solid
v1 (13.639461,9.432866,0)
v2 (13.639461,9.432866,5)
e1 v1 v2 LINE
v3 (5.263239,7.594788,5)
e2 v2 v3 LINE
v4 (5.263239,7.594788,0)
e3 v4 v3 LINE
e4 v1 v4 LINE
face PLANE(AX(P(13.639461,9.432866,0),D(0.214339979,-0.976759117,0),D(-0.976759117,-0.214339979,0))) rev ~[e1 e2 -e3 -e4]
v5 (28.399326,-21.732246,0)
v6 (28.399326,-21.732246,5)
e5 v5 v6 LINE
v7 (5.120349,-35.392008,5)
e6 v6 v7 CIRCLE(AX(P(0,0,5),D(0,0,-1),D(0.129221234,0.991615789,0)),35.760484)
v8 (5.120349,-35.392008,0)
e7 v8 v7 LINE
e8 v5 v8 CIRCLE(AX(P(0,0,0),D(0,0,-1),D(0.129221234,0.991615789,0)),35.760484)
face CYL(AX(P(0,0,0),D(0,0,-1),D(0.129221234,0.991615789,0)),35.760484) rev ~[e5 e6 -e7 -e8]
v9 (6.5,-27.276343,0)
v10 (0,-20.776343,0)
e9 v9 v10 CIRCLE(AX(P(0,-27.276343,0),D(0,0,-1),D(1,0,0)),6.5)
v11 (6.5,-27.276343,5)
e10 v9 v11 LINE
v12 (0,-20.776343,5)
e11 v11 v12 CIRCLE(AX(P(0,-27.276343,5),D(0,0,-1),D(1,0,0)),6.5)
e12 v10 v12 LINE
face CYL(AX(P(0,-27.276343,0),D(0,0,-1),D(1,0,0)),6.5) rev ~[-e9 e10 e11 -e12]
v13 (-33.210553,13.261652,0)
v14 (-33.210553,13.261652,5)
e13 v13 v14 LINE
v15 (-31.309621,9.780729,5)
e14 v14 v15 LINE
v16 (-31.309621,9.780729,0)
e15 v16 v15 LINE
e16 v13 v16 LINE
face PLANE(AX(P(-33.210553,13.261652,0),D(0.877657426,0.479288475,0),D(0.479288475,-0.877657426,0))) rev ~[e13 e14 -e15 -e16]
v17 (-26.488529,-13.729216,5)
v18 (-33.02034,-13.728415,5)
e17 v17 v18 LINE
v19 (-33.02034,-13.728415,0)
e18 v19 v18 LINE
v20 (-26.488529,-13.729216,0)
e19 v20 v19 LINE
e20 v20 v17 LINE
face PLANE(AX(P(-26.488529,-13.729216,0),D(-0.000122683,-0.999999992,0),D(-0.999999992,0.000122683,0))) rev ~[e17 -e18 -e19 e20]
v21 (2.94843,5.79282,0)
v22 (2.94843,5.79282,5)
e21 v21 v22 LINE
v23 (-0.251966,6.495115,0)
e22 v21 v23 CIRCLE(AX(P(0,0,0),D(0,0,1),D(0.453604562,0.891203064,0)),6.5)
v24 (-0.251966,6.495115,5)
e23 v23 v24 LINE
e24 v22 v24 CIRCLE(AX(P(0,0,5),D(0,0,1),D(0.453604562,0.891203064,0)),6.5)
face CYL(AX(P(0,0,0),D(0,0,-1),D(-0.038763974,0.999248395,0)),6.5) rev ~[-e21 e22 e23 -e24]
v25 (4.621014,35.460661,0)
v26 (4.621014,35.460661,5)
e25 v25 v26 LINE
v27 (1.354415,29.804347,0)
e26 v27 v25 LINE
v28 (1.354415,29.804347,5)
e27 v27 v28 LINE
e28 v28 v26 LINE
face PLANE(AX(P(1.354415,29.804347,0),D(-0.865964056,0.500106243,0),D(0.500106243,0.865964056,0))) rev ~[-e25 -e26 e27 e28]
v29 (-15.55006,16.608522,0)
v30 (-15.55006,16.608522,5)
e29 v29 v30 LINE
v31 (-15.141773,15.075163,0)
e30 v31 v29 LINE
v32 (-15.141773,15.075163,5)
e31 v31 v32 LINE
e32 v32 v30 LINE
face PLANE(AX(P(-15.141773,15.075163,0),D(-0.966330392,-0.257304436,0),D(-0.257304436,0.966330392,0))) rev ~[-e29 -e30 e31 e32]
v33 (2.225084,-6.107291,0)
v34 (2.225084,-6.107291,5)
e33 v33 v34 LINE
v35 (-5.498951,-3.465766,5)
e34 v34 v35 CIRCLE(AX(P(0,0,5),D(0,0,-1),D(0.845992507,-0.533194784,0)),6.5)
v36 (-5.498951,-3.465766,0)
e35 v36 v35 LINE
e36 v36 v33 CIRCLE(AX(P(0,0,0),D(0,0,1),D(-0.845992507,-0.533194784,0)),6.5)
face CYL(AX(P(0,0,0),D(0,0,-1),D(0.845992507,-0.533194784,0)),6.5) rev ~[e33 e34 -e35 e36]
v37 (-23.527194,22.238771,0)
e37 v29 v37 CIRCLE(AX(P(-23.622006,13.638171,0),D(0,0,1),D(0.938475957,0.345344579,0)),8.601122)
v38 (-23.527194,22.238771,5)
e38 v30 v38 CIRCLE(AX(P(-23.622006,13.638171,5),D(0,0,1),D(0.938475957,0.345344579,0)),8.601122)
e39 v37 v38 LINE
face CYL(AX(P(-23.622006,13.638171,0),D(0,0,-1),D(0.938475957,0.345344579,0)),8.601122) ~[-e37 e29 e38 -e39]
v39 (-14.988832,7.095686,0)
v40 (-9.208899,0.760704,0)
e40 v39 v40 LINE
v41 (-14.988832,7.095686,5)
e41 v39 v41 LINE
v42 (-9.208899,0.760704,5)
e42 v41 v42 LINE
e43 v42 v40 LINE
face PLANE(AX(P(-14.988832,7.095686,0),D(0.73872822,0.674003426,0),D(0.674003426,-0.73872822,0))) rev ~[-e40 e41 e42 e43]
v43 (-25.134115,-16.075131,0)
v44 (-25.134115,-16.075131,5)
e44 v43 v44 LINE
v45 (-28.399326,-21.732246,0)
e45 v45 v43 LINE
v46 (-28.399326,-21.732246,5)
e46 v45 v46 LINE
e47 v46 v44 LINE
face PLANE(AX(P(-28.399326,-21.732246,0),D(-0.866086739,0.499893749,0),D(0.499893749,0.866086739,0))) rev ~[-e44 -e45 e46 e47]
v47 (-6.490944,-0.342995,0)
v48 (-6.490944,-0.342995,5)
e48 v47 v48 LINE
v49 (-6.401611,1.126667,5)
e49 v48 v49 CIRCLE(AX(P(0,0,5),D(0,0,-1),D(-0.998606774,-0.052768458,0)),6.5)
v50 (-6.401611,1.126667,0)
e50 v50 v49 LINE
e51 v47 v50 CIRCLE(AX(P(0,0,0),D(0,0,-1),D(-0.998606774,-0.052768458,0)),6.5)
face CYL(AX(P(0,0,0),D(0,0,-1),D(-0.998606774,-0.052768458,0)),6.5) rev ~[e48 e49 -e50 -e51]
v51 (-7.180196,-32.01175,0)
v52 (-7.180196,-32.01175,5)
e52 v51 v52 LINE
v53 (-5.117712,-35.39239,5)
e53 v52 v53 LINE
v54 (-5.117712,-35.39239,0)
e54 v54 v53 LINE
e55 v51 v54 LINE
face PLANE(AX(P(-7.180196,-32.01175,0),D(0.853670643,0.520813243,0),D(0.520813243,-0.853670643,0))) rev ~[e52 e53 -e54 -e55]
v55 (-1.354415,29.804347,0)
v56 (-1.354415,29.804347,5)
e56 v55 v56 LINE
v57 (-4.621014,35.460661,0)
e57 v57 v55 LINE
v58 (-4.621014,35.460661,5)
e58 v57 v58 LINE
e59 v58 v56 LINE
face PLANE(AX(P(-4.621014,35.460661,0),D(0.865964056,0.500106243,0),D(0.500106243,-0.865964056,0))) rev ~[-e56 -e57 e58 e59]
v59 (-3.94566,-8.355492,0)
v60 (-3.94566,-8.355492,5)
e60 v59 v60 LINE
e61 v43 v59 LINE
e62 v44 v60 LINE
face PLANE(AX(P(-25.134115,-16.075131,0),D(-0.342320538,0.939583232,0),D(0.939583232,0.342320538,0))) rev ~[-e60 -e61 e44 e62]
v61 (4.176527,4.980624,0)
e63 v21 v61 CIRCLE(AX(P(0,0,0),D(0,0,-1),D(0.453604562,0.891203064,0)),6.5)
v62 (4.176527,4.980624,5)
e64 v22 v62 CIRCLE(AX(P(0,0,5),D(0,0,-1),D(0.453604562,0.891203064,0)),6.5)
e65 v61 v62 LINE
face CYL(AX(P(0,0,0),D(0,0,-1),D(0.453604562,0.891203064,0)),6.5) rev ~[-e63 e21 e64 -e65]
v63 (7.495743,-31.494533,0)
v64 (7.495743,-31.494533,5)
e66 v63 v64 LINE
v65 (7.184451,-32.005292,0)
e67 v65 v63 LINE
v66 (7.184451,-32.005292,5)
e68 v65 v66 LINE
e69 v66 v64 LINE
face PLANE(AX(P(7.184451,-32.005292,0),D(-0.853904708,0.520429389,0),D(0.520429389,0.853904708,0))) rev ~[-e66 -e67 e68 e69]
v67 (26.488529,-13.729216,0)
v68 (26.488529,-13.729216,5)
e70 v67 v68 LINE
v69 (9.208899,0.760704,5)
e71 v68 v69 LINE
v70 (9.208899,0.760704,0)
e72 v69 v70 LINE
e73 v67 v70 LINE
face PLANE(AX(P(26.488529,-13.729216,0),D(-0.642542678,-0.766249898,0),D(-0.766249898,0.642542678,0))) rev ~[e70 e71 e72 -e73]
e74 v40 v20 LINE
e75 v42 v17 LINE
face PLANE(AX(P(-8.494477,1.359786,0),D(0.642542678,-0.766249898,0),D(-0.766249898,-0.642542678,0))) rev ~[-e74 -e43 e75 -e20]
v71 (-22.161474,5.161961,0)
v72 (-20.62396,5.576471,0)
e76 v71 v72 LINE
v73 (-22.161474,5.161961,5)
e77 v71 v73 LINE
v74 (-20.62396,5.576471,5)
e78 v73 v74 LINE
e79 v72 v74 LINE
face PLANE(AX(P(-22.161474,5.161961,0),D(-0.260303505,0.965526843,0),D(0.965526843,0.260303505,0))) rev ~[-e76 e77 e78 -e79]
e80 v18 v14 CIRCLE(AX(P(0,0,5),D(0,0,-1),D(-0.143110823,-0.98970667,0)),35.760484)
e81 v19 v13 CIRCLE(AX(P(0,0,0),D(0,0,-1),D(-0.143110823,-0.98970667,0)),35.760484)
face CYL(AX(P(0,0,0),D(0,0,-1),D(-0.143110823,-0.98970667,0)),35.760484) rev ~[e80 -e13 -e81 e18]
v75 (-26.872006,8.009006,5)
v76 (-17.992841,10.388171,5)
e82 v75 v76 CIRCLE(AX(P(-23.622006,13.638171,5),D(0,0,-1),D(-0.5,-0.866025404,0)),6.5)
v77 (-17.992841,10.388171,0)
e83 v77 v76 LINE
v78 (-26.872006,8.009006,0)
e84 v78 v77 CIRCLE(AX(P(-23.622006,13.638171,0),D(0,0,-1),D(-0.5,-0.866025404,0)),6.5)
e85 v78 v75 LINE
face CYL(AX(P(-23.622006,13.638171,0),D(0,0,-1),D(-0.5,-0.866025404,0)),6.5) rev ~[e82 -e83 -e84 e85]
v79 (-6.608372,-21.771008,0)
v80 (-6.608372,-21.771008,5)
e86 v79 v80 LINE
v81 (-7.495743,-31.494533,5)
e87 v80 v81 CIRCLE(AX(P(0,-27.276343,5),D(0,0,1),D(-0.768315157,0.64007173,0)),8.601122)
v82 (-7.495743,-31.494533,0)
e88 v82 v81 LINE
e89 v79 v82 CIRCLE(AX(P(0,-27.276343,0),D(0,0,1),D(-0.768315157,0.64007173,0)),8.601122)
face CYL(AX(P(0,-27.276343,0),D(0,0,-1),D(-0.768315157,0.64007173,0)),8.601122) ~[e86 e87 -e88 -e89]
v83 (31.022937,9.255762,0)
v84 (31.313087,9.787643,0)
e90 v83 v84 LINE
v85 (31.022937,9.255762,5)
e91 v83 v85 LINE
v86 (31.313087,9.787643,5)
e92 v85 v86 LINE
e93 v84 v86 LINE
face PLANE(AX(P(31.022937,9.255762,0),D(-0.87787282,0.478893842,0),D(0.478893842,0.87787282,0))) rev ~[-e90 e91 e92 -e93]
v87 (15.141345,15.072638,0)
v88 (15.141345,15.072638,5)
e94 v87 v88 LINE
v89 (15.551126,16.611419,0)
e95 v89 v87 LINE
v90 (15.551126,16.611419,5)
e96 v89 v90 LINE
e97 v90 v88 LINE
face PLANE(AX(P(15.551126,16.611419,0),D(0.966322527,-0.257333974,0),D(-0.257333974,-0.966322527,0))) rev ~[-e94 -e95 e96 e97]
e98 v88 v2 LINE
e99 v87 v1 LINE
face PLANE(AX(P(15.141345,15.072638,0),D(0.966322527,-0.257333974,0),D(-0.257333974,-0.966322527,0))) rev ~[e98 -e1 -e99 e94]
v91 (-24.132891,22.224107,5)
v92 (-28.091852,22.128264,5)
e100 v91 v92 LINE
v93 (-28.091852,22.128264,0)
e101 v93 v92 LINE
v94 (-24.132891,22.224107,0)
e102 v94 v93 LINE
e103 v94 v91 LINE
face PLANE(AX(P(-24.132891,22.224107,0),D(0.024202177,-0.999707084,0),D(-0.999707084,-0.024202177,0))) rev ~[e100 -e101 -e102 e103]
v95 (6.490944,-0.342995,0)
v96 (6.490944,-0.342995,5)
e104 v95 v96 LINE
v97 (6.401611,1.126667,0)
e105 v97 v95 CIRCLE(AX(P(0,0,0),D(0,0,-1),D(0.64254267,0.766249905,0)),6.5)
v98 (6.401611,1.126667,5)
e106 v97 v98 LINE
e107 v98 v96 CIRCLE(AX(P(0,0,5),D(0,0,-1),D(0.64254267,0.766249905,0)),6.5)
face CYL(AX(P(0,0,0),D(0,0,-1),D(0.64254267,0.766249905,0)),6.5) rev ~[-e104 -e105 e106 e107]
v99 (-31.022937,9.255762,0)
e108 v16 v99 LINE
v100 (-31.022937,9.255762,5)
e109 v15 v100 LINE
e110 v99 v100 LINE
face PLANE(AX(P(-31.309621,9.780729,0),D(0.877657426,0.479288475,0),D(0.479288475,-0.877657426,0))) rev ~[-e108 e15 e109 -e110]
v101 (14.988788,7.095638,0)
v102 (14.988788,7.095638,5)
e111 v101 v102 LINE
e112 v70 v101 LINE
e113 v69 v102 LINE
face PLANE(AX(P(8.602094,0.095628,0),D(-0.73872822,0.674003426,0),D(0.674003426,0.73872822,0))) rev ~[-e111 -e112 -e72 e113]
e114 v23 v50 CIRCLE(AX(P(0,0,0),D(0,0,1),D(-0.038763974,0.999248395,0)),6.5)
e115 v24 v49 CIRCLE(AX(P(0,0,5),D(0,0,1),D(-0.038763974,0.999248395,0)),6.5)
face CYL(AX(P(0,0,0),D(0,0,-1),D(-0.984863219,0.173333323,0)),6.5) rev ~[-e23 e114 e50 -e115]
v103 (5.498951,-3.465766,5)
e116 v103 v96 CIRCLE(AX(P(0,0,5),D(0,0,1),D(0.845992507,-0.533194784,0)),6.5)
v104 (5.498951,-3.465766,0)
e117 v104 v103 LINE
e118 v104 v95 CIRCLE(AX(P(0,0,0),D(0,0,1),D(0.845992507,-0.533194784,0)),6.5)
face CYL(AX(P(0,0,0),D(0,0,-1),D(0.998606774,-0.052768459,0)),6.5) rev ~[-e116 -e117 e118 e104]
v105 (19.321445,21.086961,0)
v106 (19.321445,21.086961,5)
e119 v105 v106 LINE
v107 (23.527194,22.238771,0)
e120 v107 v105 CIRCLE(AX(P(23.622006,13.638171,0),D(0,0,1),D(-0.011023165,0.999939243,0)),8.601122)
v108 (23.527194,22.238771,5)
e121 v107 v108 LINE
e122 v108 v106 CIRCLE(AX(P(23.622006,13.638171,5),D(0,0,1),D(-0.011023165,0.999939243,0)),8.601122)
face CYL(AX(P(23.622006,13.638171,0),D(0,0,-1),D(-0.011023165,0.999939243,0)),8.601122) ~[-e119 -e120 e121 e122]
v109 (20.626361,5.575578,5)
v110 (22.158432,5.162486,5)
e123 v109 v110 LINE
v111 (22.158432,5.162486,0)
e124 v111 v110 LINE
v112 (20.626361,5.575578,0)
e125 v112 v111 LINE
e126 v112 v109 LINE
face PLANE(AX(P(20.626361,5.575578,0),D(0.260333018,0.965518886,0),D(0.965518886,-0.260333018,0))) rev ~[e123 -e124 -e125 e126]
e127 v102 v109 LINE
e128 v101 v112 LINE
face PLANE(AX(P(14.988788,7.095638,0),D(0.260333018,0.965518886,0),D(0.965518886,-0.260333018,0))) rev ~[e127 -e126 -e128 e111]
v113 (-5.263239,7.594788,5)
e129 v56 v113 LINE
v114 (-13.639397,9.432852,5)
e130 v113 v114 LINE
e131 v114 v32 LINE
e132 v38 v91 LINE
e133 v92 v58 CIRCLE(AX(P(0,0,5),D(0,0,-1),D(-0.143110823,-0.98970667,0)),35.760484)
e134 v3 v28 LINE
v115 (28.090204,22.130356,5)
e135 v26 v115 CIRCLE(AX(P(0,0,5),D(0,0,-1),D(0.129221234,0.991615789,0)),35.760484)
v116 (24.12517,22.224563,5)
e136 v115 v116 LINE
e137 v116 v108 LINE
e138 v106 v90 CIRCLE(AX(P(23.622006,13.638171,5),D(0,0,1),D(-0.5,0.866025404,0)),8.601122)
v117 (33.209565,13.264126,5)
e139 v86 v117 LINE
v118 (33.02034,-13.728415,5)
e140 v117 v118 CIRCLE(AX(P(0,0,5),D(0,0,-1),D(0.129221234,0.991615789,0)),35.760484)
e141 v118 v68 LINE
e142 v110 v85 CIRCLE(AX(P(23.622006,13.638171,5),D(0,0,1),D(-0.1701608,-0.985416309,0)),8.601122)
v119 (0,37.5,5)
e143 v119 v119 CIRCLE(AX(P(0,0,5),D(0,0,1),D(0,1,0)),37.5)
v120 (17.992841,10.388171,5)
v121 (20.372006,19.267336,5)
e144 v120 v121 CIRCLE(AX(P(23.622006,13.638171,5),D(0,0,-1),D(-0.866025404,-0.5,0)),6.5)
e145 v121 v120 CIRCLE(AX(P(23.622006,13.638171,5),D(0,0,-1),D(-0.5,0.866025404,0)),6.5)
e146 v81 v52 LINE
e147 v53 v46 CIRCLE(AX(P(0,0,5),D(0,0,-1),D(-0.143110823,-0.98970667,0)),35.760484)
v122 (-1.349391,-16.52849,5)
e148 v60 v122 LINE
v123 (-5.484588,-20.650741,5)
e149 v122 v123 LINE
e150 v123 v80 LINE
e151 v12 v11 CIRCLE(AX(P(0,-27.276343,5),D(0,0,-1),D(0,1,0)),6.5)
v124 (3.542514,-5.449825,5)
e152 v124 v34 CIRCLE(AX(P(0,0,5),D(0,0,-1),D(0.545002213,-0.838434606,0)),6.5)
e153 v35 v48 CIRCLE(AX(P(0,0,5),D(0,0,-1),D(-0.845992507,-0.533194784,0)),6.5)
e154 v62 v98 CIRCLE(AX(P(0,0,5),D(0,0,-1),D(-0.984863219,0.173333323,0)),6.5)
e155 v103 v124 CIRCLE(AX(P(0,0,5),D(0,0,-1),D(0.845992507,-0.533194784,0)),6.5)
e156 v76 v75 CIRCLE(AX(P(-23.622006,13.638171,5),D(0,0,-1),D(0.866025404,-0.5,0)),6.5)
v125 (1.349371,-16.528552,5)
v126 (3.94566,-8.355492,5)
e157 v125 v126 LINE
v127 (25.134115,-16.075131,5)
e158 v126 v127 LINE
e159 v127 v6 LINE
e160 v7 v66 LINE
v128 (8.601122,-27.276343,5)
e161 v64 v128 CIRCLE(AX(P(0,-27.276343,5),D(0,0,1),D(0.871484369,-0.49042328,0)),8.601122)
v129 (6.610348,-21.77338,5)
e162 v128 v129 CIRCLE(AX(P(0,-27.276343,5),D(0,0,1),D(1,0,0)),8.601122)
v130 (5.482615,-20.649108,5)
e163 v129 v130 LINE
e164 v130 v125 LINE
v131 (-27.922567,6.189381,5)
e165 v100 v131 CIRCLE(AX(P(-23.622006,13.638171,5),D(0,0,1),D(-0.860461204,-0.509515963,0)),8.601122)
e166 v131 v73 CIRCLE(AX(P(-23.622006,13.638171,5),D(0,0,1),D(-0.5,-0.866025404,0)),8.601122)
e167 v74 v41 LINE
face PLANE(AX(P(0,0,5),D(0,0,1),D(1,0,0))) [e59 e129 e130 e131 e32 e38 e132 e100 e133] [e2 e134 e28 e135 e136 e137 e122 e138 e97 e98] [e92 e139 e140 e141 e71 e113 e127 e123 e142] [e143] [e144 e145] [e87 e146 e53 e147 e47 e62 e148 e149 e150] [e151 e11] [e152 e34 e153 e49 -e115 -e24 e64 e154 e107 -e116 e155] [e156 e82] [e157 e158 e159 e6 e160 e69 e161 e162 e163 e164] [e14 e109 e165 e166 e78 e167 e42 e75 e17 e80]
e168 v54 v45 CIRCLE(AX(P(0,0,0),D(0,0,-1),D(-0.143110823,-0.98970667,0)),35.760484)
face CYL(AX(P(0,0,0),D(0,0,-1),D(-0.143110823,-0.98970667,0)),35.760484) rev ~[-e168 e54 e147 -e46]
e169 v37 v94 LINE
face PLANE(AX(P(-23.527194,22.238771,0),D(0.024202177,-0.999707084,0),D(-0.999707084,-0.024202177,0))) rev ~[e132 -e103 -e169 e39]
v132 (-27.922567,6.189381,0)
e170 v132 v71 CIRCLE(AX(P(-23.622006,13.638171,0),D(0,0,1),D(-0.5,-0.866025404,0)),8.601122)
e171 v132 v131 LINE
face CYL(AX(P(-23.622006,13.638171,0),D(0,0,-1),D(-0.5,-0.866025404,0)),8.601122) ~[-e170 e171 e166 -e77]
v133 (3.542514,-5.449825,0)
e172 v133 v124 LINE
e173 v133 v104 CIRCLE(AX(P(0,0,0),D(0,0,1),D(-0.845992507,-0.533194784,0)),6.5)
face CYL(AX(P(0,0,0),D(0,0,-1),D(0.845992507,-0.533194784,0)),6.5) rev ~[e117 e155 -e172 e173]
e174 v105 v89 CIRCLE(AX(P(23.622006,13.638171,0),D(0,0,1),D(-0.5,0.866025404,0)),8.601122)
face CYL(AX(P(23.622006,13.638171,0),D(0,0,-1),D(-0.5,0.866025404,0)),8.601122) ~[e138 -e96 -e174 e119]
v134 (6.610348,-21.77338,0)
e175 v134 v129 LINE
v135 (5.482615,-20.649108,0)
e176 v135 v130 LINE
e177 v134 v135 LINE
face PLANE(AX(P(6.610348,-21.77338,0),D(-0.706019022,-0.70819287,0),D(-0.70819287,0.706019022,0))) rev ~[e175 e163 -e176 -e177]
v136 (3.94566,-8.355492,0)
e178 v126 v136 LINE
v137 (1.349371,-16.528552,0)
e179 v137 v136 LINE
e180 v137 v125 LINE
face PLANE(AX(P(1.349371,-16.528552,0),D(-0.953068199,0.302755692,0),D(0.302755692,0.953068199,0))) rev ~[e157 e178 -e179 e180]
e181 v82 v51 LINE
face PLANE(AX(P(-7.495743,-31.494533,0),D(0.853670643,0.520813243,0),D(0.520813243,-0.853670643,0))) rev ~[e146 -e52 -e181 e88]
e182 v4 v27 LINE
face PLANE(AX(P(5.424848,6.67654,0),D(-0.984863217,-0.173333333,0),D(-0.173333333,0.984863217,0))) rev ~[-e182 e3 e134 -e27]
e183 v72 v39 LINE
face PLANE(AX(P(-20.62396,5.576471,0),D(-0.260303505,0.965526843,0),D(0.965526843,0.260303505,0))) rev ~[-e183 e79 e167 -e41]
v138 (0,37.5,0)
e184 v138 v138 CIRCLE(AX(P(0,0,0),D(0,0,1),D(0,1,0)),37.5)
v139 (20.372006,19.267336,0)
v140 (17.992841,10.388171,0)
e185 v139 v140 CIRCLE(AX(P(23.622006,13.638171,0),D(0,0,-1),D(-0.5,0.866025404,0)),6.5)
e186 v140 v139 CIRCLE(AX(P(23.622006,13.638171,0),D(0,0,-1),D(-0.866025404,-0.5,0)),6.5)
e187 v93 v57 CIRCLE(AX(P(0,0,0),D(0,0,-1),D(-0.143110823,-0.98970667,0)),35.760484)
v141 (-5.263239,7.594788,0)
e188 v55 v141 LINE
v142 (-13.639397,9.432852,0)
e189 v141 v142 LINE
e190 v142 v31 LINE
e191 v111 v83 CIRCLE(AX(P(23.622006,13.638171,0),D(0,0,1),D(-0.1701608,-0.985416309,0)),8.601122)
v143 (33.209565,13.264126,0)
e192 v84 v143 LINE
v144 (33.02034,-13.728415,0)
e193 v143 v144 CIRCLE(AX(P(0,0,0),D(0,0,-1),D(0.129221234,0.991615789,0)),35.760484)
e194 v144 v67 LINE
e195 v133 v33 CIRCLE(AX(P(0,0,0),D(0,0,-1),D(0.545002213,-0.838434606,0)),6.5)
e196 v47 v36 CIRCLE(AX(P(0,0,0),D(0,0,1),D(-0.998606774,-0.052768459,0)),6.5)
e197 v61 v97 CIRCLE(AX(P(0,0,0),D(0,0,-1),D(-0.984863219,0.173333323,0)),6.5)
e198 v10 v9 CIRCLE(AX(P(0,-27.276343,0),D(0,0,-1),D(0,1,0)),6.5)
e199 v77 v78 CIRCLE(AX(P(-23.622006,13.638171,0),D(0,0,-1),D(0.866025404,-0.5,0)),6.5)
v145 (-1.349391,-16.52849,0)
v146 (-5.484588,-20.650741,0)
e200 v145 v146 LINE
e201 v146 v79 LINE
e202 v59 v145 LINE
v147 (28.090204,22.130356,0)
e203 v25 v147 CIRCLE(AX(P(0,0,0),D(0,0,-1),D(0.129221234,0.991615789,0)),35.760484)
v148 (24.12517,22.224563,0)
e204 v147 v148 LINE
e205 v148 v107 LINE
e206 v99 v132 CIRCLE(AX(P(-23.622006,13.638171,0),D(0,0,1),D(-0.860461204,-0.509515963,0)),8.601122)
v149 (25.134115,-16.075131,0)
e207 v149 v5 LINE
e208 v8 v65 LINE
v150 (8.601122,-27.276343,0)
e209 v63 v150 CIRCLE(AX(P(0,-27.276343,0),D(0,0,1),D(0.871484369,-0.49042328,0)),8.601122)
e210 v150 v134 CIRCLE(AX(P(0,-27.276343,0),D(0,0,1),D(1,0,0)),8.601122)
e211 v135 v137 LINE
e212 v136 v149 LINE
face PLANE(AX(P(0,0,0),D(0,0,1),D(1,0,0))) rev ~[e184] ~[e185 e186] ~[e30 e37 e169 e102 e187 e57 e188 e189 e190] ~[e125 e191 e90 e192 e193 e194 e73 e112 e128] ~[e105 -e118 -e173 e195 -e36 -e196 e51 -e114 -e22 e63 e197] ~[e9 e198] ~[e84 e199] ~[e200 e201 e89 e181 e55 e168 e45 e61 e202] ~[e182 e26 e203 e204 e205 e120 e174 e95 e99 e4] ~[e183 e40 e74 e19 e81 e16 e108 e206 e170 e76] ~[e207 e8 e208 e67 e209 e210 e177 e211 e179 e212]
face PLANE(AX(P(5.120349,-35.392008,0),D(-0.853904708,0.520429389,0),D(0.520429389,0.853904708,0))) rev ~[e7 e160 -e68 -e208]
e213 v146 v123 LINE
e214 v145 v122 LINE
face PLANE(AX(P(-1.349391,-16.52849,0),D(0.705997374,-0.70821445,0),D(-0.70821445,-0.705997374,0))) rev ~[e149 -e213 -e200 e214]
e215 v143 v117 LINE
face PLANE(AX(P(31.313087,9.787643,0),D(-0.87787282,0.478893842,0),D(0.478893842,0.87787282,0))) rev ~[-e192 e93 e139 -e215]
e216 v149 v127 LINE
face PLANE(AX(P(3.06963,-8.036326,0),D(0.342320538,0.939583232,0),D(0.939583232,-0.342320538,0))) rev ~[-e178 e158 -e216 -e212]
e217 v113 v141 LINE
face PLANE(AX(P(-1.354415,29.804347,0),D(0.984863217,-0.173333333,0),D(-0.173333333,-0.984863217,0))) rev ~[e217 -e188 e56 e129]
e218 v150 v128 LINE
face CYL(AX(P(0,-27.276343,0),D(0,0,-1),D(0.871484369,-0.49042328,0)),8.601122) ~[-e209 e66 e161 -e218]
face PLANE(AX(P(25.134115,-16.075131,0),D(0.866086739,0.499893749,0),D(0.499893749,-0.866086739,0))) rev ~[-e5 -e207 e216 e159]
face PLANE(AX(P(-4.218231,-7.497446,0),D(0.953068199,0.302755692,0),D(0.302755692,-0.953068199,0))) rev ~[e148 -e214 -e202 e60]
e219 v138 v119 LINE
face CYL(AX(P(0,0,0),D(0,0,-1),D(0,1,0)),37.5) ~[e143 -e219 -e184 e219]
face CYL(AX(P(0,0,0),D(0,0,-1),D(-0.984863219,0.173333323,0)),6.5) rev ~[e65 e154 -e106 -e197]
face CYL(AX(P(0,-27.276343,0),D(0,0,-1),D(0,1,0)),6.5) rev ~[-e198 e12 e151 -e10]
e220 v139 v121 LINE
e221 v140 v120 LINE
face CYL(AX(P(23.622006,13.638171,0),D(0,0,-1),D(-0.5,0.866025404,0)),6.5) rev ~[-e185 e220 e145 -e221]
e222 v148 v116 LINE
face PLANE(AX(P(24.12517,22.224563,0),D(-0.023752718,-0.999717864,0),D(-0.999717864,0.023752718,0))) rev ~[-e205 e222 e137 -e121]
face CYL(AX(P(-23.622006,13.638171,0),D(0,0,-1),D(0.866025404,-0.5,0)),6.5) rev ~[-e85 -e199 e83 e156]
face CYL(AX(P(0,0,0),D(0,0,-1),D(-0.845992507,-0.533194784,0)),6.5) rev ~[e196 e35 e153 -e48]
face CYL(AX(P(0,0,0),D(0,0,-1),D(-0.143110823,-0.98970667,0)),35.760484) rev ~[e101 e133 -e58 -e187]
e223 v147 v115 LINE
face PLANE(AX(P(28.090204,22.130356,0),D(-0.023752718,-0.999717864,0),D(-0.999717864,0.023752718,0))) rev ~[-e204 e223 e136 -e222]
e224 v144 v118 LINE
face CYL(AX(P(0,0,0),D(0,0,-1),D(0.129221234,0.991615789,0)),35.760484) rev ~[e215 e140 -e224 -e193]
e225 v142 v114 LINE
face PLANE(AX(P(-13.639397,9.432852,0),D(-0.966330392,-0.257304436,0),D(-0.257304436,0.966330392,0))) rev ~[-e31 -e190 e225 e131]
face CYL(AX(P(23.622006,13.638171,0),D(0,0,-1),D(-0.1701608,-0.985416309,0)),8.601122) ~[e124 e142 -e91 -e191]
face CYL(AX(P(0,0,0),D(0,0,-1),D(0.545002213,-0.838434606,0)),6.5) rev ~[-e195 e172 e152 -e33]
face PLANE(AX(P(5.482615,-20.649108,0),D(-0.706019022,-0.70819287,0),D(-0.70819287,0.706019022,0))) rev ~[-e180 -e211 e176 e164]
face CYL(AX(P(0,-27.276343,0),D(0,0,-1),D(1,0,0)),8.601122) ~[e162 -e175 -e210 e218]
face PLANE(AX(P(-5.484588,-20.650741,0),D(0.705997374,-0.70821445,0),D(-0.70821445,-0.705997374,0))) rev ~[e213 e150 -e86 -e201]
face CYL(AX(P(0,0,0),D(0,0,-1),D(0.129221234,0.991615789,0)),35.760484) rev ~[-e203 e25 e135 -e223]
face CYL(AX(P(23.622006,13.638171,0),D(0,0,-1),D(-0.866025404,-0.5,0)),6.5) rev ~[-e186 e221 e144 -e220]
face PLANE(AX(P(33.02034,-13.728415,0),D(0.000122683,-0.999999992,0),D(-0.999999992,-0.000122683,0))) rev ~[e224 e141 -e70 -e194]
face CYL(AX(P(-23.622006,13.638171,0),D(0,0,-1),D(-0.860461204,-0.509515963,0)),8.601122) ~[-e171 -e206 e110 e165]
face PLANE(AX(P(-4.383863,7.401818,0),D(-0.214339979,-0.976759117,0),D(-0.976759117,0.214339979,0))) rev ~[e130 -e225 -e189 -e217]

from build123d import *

# Parameters (mm, degrees)
F1_DEPTH = 5
F2_COUNT = 3
F3_DEPTH = 5


with BuildPart() as f1:
    # F0 (on Top) → F1 (new body)
    with BuildSketch(Plane.XY):
        with BuildLine():
            ThreePointArc((-5.4248477433, 6.6765403938), (0, 8.602625452), (5.4248477433, 6.6765403938))
            Line((5.4248477433, 6.6765403938), (1.3544146049, 29.8043473585))
            Line((1.3544146049, 29.8043473585), (-1.3544146049, 29.8043473585))
            Line((-1.3544146049, 29.8043473585), (-5.4248477433, 6.6765403938))
        make_face()
        with BuildLine():
            ThreePointArc((-6.4909440333, -0.3429949805), (-6.4880250922, 0.3943734303), (-6.4016109203, 1.1266665987))
            Line((-6.4016109203, 1.1266665987), (-6.5999012756, 0))
            Line((-6.5999012756, 0), (-6.4909440333, -0.3429949805))
        make_face()
        with BuildLine():
            ThreePointArc((-6.4016109203, 1.1266665987), (3.01e-08, 6.5), (6.4016109308, 1.1266665393))
            Line((6.4016109308, 1.1266665393), (5.4248477433, 6.6765403938))
            ThreePointArc((5.4248477433, 6.6765403938), (0, 8.602625452), (-5.4248477433, 6.6765403938))
            Line((-5.4248477433, 6.6765403938), (-6.4016109203, 1.1266665987))
        make_face()
        with BuildLine():
            ThreePointArc((5.4826146341, -20.6491084281), (3.2218551697, -19.3014479363), (0.6594098664, -18.7005351105))
            Line((0.6594098664, -18.7005351105), (0, -20.7763427347))
            Line((0, -20.7763427347), (-0.6594098664, -18.7005351105))
            ThreePointArc((-0.6594098664, -18.7005351105), (-3.2230425543, -19.3019277422), (-5.4845879123, -20.6507413875))
            Line((-5.4845879123, -20.6507413875), (-6.6083723171, -21.7710077677))
            ThreePointArc((-6.6083723171, -21.7710077677), (-8.5655271696, -26.4946509242), (-7.4957432876, -31.494533146))
            Line((-7.4957432876, -31.494533146), (-7.1801960351, -32.0117500748))
            ThreePointArc((-7.1801960351, -32.0117500748), (-4.7747668767, -34.4304254189), (-1.6183226323, -35.7238470784))
            ThreePointArc((-1.6183226323, -35.7238470784), (0, -35.7604840323), (1.6183226323, -35.7238470784))
            ThreePointArc((1.6183226323, -35.7238470784), (4.7779827917, -34.4282780127), (7.1844511071, -32.0052918853))
            Line((7.1844511071, -32.0052918853), (7.4957432876, -31.494533146))
            ThreePointArc((7.4957432876, -31.494533146), (8.3201892844, -29.4566518987), (8.6011218908, -27.2763427347))
            ThreePointArc((8.6011218908, -27.2763427347), (8.0881303689, -24.3503480465), (6.6103478907, -21.7733800287))
            Line((6.6103478907, -21.7733800287), (5.4826146341, -20.6491084281))
        make_face()
        with BuildLine():
            ThreePointArc((6.5, -27.2763427347), (-4.5961940777, -31.8725368124), (0, -20.7763427347))
            ThreePointArc((0, -20.7763427347), (4.5961940777, -22.680148657), (6.5, -27.2763427347))
        make_face(mode=Mode.SUBTRACT)
        with BuildLine():
            ThreePointArc((1.6183226323, -35.7238470784), (0, -35.7604840323), (-1.6183226323, -35.7238470784))
            ThreePointArc((-1.6183226323, -35.7238470784), (0, -35.8774646255), (1.6183226323, -35.7238470784))
        make_face()
        with BuildLine():
            Line((1.3493711691, -16.5285522429), (4.2182307974, -7.4974458056))
            ThreePointArc((4.2182307974, -7.4974458056), (0, -8.602625452), (-4.2182307974, -7.4974458056))
            Line((-4.2182307974, -7.4974458056), (-1.3493910102, -16.5284897836))
            Line((-1.3493910102, -16.5284897836), (0, -15.183323063))
            Line((0, -15.183323063), (1.3493711691, -16.5285522429))
        make_face()
        with BuildLine():
            Line((5.4248477433, 6.6765403938), (6.4016109308, 1.1266665393))
            Line((6.4016109308, 1.1266665393), (6.5999012756, 0))
            Line((6.5999012756, 0), (6.4909440333, -0.3429949805))
            ThreePointArc((6.4909440333, -0.3429949805), (6.1949432904, -1.9679119972), (5.498951298, -3.4657660946))
            Line((5.498951298, -3.4657660946), (4.2182307974, -7.4974458056))
            ThreePointArc((4.2182307974, -7.4974458056), (7.4260697643, -4.3426550086), (8.602625452, 0))
            ThreePointArc((8.602625452, 0), (7.7676604566, 3.6971091002), (5.4248477433, 6.6765403938))
        make_face()
        with BuildLine():
            Line((-6.5999012756, 0), (-6.4016109203, 1.1266665987))
            Line((-6.4016109203, 1.1266665987), (-5.4248477433, 6.6765403938))
            ThreePointArc((-5.4248477433, 6.6765403938), (-8.5716224911, -0.7296934543), (-4.2182307974, -7.4974458056))
            Line((-4.2182307974, -7.4974458056), (-5.498951298, -3.4657660946))
            ThreePointArc((-5.498951298, -3.4657660946), (-6.1949432904, -1.9679119972), (-6.4909440333, -0.3429949805))
            Line((-6.4909440333, -0.3429949805), (-6.5999012756, 0))
        make_face()
        with BuildLine():
            Line((0, -20.7763427347), (0.6594098664, -18.7005351105))
            ThreePointArc((0.6594098664, -18.7005351105), (0, -18.6752208439), (-0.6594098664, -18.7005351105))
            Line((-0.6594098664, -18.7005351105), (0, -20.7763427347))
        make_face()
        with BuildLine():
            Line((4.2182307974, -7.4974458056), (5.498951298, -3.4657660946))
            ThreePointArc((5.498951298, -3.4657660946), (0, -6.5), (-5.498951298, -3.4657660946))
            Line((-5.498951298, -3.4657660946), (-4.2182307974, -7.4974458056))
            ThreePointArc((-4.2182307974, -7.4974458056), (0, -8.602625452), (4.2182307974, -7.4974458056))
        make_face()
        with BuildLine():
            Line((0.6594098664, -18.7005351105), (1.3493711691, -16.5285522429))
            Line((1.3493711691, -16.5285522429), (0, -15.183323063))
            Line((0, -15.183323063), (-1.3493910102, -16.5284897836))
            Line((-1.3493910102, -16.5284897836), (-0.6594098664, -18.7005351105))
            ThreePointArc((-0.6594098664, -18.7005351105), (0, -18.6752208439), (0.6594098664, -18.7005351105))
        make_face()
        with BuildLine():
            Line((-0.6594098664, -18.7005351105), (-1.3493910102, -16.5284897836))
            Line((-1.3493910102, -16.5284897836), (-5.4845879123, -20.6507413875))
            ThreePointArc((-5.4845879123, -20.6507413875), (-3.2230425543, -19.3019277422), (-0.6594098664, -18.7005351105))
        make_face()
        with BuildLine():
            Line((5.4826146341, -20.6491084281), (1.3493711691, -16.5285522429))
            Line((1.3493711691, -16.5285522429), (0.6594098664, -18.7005351105))
            ThreePointArc((0.6594098664, -18.7005351105), (3.2218551697, -19.3014479363), (5.4826146341, -20.6491084281))
        make_face()
        with BuildLine():
            Line((-4.6210138798, 35.4606605825), (-1.3544146049, 29.8043473585))
            Line((-1.3544146049, 29.8043473585), (-0.3063812271, 35.7591715336))
            ThreePointArc((-0.3063812271, 35.7591715336), (-2.4682145028, 35.6752033686), (-4.6210138798, 35.4606605825))
        make_face()
        with BuildLine():
            Line((-1.3544146049, 29.8043473585), (1.3544146049, 29.8043473585))
            Line((1.3544146049, 29.8043473585), (0.3063812271, 35.7591715336))
            ThreePointArc((0.3063812271, 35.7591715336), (0, 35.7604840323), (-0.3063812271, 35.7591715336))
            Line((-0.3063812271, 35.7591715336), (-1.3544146049, 29.8043473585))
        make_face()
        with BuildLine():
            Line((0.3063812271, 35.7591715336), (1.3544146049, 29.8043473585))
            Line((1.3544146049, 29.8043473585), (4.6210138798, 35.4606605825))
            ThreePointArc((4.6210138798, 35.4606605825), (2.4682145028, 35.6752033686), (0.3063812271, 35.7591715336))
        make_face()
        with BuildLine():
            Line((-7.1801960351, -32.0117500748), (-5.1177123017, -35.3923895636))
            ThreePointArc((-5.1177123017, -35.3923895636), (-3.3720924779, -35.6011405793), (-1.6183226323, -35.7238470784))
            ThreePointArc((-1.6183226323, -35.7238470784), (-4.7747668767, -34.4304254189), (-7.1801960351, -32.0117500748))
        make_face()
        with BuildLine():
            ThreePointArc((1.6183226323, -35.7238470784), (3.3734184825, -35.601014957), (5.1203487512, -35.3920082348))
            Line((5.1203487512, -35.3920082348), (7.1844511071, -32.0052918853))
            ThreePointArc((7.1844511071, -32.0052918853), (4.7779827917, -34.4282780127), (1.6183226323, -35.7238470784))
        make_face()
    extrude(amount=F1_DEPTH)

    # F2: F1 ×3 about axis
    f2_axis = Axis((0, 0, 0), (0, 0, -1))


with BuildPart() as f1_1:
    add(f1.part)
    for i in range(1, F2_COUNT):
        add(f1.part.rotate(f2_axis, i * 360 / F2_COUNT))

    # F0 (on Top) → F3 (join)
    with BuildSketch(Plane.XY):
        with BuildLine():
            ThreePointArc((37.5, 0), (26.5165042945, 26.5165042945), (0, 37.5))
            ThreePointArc((0, 37.5), (-26.5165042945, -26.5165042945), (37.5, 0))
        make_face()
        with BuildLine():
            Line((0, 37.5), (0.3063812271, 35.7591715336))
            ThreePointArc((0.3063812271, 35.7591715336), (2.4682145028, 35.6752033686), (4.6210138798, 35.4606605825))
            ThreePointArc((4.6210138798, 35.4606605825), (26.8706337038, 23.5962128864), (35.7604840323, 0))
            ThreePointArc((35.7604840323, 0), (27.0362568413, -23.4062605778), (5.1203487512, -35.3920082348))
            ThreePointArc((5.1203487512, -35.3920082348), (3.3734184825, -35.601014957), (1.6183226323, -35.7238470784))
            ThreePointArc((1.6183226323, -35.7238470784), (0, -35.8774646255), (-1.6183226323, -35.7238470784))
            ThreePointArc((-1.6183226323, -35.7238470784), (-3.3720924779, -35.6011405793), (-5.1177123017, -35.3923895636))
            ThreePointArc((-5.1177123017, -35.3923895636), (-35.7596053622, 0.2506841909), (-4.6210138798, 35.4606605825))
            ThreePointArc((-4.6210138798, 35.4606605825), (-2.4682145028, 35.6752033686), (-0.3063812271, 35.7591715336))
            Line((-0.3063812271, 35.7591715336), (0, 37.5))
        make_face(mode=Mode.SUBTRACT)
        with BuildLine():
            ThreePointArc((-0.3063812271, 35.7591715336), (0, 35.7604840323), (0.3063812271, 35.7591715336))
            Line((0.3063812271, 35.7591715336), (0, 37.5))
            Line((0, 37.5), (-0.3063812271, 35.7591715336))
        make_face()
    extrude(amount=F3_DEPTH)


solid = f1_1.part
